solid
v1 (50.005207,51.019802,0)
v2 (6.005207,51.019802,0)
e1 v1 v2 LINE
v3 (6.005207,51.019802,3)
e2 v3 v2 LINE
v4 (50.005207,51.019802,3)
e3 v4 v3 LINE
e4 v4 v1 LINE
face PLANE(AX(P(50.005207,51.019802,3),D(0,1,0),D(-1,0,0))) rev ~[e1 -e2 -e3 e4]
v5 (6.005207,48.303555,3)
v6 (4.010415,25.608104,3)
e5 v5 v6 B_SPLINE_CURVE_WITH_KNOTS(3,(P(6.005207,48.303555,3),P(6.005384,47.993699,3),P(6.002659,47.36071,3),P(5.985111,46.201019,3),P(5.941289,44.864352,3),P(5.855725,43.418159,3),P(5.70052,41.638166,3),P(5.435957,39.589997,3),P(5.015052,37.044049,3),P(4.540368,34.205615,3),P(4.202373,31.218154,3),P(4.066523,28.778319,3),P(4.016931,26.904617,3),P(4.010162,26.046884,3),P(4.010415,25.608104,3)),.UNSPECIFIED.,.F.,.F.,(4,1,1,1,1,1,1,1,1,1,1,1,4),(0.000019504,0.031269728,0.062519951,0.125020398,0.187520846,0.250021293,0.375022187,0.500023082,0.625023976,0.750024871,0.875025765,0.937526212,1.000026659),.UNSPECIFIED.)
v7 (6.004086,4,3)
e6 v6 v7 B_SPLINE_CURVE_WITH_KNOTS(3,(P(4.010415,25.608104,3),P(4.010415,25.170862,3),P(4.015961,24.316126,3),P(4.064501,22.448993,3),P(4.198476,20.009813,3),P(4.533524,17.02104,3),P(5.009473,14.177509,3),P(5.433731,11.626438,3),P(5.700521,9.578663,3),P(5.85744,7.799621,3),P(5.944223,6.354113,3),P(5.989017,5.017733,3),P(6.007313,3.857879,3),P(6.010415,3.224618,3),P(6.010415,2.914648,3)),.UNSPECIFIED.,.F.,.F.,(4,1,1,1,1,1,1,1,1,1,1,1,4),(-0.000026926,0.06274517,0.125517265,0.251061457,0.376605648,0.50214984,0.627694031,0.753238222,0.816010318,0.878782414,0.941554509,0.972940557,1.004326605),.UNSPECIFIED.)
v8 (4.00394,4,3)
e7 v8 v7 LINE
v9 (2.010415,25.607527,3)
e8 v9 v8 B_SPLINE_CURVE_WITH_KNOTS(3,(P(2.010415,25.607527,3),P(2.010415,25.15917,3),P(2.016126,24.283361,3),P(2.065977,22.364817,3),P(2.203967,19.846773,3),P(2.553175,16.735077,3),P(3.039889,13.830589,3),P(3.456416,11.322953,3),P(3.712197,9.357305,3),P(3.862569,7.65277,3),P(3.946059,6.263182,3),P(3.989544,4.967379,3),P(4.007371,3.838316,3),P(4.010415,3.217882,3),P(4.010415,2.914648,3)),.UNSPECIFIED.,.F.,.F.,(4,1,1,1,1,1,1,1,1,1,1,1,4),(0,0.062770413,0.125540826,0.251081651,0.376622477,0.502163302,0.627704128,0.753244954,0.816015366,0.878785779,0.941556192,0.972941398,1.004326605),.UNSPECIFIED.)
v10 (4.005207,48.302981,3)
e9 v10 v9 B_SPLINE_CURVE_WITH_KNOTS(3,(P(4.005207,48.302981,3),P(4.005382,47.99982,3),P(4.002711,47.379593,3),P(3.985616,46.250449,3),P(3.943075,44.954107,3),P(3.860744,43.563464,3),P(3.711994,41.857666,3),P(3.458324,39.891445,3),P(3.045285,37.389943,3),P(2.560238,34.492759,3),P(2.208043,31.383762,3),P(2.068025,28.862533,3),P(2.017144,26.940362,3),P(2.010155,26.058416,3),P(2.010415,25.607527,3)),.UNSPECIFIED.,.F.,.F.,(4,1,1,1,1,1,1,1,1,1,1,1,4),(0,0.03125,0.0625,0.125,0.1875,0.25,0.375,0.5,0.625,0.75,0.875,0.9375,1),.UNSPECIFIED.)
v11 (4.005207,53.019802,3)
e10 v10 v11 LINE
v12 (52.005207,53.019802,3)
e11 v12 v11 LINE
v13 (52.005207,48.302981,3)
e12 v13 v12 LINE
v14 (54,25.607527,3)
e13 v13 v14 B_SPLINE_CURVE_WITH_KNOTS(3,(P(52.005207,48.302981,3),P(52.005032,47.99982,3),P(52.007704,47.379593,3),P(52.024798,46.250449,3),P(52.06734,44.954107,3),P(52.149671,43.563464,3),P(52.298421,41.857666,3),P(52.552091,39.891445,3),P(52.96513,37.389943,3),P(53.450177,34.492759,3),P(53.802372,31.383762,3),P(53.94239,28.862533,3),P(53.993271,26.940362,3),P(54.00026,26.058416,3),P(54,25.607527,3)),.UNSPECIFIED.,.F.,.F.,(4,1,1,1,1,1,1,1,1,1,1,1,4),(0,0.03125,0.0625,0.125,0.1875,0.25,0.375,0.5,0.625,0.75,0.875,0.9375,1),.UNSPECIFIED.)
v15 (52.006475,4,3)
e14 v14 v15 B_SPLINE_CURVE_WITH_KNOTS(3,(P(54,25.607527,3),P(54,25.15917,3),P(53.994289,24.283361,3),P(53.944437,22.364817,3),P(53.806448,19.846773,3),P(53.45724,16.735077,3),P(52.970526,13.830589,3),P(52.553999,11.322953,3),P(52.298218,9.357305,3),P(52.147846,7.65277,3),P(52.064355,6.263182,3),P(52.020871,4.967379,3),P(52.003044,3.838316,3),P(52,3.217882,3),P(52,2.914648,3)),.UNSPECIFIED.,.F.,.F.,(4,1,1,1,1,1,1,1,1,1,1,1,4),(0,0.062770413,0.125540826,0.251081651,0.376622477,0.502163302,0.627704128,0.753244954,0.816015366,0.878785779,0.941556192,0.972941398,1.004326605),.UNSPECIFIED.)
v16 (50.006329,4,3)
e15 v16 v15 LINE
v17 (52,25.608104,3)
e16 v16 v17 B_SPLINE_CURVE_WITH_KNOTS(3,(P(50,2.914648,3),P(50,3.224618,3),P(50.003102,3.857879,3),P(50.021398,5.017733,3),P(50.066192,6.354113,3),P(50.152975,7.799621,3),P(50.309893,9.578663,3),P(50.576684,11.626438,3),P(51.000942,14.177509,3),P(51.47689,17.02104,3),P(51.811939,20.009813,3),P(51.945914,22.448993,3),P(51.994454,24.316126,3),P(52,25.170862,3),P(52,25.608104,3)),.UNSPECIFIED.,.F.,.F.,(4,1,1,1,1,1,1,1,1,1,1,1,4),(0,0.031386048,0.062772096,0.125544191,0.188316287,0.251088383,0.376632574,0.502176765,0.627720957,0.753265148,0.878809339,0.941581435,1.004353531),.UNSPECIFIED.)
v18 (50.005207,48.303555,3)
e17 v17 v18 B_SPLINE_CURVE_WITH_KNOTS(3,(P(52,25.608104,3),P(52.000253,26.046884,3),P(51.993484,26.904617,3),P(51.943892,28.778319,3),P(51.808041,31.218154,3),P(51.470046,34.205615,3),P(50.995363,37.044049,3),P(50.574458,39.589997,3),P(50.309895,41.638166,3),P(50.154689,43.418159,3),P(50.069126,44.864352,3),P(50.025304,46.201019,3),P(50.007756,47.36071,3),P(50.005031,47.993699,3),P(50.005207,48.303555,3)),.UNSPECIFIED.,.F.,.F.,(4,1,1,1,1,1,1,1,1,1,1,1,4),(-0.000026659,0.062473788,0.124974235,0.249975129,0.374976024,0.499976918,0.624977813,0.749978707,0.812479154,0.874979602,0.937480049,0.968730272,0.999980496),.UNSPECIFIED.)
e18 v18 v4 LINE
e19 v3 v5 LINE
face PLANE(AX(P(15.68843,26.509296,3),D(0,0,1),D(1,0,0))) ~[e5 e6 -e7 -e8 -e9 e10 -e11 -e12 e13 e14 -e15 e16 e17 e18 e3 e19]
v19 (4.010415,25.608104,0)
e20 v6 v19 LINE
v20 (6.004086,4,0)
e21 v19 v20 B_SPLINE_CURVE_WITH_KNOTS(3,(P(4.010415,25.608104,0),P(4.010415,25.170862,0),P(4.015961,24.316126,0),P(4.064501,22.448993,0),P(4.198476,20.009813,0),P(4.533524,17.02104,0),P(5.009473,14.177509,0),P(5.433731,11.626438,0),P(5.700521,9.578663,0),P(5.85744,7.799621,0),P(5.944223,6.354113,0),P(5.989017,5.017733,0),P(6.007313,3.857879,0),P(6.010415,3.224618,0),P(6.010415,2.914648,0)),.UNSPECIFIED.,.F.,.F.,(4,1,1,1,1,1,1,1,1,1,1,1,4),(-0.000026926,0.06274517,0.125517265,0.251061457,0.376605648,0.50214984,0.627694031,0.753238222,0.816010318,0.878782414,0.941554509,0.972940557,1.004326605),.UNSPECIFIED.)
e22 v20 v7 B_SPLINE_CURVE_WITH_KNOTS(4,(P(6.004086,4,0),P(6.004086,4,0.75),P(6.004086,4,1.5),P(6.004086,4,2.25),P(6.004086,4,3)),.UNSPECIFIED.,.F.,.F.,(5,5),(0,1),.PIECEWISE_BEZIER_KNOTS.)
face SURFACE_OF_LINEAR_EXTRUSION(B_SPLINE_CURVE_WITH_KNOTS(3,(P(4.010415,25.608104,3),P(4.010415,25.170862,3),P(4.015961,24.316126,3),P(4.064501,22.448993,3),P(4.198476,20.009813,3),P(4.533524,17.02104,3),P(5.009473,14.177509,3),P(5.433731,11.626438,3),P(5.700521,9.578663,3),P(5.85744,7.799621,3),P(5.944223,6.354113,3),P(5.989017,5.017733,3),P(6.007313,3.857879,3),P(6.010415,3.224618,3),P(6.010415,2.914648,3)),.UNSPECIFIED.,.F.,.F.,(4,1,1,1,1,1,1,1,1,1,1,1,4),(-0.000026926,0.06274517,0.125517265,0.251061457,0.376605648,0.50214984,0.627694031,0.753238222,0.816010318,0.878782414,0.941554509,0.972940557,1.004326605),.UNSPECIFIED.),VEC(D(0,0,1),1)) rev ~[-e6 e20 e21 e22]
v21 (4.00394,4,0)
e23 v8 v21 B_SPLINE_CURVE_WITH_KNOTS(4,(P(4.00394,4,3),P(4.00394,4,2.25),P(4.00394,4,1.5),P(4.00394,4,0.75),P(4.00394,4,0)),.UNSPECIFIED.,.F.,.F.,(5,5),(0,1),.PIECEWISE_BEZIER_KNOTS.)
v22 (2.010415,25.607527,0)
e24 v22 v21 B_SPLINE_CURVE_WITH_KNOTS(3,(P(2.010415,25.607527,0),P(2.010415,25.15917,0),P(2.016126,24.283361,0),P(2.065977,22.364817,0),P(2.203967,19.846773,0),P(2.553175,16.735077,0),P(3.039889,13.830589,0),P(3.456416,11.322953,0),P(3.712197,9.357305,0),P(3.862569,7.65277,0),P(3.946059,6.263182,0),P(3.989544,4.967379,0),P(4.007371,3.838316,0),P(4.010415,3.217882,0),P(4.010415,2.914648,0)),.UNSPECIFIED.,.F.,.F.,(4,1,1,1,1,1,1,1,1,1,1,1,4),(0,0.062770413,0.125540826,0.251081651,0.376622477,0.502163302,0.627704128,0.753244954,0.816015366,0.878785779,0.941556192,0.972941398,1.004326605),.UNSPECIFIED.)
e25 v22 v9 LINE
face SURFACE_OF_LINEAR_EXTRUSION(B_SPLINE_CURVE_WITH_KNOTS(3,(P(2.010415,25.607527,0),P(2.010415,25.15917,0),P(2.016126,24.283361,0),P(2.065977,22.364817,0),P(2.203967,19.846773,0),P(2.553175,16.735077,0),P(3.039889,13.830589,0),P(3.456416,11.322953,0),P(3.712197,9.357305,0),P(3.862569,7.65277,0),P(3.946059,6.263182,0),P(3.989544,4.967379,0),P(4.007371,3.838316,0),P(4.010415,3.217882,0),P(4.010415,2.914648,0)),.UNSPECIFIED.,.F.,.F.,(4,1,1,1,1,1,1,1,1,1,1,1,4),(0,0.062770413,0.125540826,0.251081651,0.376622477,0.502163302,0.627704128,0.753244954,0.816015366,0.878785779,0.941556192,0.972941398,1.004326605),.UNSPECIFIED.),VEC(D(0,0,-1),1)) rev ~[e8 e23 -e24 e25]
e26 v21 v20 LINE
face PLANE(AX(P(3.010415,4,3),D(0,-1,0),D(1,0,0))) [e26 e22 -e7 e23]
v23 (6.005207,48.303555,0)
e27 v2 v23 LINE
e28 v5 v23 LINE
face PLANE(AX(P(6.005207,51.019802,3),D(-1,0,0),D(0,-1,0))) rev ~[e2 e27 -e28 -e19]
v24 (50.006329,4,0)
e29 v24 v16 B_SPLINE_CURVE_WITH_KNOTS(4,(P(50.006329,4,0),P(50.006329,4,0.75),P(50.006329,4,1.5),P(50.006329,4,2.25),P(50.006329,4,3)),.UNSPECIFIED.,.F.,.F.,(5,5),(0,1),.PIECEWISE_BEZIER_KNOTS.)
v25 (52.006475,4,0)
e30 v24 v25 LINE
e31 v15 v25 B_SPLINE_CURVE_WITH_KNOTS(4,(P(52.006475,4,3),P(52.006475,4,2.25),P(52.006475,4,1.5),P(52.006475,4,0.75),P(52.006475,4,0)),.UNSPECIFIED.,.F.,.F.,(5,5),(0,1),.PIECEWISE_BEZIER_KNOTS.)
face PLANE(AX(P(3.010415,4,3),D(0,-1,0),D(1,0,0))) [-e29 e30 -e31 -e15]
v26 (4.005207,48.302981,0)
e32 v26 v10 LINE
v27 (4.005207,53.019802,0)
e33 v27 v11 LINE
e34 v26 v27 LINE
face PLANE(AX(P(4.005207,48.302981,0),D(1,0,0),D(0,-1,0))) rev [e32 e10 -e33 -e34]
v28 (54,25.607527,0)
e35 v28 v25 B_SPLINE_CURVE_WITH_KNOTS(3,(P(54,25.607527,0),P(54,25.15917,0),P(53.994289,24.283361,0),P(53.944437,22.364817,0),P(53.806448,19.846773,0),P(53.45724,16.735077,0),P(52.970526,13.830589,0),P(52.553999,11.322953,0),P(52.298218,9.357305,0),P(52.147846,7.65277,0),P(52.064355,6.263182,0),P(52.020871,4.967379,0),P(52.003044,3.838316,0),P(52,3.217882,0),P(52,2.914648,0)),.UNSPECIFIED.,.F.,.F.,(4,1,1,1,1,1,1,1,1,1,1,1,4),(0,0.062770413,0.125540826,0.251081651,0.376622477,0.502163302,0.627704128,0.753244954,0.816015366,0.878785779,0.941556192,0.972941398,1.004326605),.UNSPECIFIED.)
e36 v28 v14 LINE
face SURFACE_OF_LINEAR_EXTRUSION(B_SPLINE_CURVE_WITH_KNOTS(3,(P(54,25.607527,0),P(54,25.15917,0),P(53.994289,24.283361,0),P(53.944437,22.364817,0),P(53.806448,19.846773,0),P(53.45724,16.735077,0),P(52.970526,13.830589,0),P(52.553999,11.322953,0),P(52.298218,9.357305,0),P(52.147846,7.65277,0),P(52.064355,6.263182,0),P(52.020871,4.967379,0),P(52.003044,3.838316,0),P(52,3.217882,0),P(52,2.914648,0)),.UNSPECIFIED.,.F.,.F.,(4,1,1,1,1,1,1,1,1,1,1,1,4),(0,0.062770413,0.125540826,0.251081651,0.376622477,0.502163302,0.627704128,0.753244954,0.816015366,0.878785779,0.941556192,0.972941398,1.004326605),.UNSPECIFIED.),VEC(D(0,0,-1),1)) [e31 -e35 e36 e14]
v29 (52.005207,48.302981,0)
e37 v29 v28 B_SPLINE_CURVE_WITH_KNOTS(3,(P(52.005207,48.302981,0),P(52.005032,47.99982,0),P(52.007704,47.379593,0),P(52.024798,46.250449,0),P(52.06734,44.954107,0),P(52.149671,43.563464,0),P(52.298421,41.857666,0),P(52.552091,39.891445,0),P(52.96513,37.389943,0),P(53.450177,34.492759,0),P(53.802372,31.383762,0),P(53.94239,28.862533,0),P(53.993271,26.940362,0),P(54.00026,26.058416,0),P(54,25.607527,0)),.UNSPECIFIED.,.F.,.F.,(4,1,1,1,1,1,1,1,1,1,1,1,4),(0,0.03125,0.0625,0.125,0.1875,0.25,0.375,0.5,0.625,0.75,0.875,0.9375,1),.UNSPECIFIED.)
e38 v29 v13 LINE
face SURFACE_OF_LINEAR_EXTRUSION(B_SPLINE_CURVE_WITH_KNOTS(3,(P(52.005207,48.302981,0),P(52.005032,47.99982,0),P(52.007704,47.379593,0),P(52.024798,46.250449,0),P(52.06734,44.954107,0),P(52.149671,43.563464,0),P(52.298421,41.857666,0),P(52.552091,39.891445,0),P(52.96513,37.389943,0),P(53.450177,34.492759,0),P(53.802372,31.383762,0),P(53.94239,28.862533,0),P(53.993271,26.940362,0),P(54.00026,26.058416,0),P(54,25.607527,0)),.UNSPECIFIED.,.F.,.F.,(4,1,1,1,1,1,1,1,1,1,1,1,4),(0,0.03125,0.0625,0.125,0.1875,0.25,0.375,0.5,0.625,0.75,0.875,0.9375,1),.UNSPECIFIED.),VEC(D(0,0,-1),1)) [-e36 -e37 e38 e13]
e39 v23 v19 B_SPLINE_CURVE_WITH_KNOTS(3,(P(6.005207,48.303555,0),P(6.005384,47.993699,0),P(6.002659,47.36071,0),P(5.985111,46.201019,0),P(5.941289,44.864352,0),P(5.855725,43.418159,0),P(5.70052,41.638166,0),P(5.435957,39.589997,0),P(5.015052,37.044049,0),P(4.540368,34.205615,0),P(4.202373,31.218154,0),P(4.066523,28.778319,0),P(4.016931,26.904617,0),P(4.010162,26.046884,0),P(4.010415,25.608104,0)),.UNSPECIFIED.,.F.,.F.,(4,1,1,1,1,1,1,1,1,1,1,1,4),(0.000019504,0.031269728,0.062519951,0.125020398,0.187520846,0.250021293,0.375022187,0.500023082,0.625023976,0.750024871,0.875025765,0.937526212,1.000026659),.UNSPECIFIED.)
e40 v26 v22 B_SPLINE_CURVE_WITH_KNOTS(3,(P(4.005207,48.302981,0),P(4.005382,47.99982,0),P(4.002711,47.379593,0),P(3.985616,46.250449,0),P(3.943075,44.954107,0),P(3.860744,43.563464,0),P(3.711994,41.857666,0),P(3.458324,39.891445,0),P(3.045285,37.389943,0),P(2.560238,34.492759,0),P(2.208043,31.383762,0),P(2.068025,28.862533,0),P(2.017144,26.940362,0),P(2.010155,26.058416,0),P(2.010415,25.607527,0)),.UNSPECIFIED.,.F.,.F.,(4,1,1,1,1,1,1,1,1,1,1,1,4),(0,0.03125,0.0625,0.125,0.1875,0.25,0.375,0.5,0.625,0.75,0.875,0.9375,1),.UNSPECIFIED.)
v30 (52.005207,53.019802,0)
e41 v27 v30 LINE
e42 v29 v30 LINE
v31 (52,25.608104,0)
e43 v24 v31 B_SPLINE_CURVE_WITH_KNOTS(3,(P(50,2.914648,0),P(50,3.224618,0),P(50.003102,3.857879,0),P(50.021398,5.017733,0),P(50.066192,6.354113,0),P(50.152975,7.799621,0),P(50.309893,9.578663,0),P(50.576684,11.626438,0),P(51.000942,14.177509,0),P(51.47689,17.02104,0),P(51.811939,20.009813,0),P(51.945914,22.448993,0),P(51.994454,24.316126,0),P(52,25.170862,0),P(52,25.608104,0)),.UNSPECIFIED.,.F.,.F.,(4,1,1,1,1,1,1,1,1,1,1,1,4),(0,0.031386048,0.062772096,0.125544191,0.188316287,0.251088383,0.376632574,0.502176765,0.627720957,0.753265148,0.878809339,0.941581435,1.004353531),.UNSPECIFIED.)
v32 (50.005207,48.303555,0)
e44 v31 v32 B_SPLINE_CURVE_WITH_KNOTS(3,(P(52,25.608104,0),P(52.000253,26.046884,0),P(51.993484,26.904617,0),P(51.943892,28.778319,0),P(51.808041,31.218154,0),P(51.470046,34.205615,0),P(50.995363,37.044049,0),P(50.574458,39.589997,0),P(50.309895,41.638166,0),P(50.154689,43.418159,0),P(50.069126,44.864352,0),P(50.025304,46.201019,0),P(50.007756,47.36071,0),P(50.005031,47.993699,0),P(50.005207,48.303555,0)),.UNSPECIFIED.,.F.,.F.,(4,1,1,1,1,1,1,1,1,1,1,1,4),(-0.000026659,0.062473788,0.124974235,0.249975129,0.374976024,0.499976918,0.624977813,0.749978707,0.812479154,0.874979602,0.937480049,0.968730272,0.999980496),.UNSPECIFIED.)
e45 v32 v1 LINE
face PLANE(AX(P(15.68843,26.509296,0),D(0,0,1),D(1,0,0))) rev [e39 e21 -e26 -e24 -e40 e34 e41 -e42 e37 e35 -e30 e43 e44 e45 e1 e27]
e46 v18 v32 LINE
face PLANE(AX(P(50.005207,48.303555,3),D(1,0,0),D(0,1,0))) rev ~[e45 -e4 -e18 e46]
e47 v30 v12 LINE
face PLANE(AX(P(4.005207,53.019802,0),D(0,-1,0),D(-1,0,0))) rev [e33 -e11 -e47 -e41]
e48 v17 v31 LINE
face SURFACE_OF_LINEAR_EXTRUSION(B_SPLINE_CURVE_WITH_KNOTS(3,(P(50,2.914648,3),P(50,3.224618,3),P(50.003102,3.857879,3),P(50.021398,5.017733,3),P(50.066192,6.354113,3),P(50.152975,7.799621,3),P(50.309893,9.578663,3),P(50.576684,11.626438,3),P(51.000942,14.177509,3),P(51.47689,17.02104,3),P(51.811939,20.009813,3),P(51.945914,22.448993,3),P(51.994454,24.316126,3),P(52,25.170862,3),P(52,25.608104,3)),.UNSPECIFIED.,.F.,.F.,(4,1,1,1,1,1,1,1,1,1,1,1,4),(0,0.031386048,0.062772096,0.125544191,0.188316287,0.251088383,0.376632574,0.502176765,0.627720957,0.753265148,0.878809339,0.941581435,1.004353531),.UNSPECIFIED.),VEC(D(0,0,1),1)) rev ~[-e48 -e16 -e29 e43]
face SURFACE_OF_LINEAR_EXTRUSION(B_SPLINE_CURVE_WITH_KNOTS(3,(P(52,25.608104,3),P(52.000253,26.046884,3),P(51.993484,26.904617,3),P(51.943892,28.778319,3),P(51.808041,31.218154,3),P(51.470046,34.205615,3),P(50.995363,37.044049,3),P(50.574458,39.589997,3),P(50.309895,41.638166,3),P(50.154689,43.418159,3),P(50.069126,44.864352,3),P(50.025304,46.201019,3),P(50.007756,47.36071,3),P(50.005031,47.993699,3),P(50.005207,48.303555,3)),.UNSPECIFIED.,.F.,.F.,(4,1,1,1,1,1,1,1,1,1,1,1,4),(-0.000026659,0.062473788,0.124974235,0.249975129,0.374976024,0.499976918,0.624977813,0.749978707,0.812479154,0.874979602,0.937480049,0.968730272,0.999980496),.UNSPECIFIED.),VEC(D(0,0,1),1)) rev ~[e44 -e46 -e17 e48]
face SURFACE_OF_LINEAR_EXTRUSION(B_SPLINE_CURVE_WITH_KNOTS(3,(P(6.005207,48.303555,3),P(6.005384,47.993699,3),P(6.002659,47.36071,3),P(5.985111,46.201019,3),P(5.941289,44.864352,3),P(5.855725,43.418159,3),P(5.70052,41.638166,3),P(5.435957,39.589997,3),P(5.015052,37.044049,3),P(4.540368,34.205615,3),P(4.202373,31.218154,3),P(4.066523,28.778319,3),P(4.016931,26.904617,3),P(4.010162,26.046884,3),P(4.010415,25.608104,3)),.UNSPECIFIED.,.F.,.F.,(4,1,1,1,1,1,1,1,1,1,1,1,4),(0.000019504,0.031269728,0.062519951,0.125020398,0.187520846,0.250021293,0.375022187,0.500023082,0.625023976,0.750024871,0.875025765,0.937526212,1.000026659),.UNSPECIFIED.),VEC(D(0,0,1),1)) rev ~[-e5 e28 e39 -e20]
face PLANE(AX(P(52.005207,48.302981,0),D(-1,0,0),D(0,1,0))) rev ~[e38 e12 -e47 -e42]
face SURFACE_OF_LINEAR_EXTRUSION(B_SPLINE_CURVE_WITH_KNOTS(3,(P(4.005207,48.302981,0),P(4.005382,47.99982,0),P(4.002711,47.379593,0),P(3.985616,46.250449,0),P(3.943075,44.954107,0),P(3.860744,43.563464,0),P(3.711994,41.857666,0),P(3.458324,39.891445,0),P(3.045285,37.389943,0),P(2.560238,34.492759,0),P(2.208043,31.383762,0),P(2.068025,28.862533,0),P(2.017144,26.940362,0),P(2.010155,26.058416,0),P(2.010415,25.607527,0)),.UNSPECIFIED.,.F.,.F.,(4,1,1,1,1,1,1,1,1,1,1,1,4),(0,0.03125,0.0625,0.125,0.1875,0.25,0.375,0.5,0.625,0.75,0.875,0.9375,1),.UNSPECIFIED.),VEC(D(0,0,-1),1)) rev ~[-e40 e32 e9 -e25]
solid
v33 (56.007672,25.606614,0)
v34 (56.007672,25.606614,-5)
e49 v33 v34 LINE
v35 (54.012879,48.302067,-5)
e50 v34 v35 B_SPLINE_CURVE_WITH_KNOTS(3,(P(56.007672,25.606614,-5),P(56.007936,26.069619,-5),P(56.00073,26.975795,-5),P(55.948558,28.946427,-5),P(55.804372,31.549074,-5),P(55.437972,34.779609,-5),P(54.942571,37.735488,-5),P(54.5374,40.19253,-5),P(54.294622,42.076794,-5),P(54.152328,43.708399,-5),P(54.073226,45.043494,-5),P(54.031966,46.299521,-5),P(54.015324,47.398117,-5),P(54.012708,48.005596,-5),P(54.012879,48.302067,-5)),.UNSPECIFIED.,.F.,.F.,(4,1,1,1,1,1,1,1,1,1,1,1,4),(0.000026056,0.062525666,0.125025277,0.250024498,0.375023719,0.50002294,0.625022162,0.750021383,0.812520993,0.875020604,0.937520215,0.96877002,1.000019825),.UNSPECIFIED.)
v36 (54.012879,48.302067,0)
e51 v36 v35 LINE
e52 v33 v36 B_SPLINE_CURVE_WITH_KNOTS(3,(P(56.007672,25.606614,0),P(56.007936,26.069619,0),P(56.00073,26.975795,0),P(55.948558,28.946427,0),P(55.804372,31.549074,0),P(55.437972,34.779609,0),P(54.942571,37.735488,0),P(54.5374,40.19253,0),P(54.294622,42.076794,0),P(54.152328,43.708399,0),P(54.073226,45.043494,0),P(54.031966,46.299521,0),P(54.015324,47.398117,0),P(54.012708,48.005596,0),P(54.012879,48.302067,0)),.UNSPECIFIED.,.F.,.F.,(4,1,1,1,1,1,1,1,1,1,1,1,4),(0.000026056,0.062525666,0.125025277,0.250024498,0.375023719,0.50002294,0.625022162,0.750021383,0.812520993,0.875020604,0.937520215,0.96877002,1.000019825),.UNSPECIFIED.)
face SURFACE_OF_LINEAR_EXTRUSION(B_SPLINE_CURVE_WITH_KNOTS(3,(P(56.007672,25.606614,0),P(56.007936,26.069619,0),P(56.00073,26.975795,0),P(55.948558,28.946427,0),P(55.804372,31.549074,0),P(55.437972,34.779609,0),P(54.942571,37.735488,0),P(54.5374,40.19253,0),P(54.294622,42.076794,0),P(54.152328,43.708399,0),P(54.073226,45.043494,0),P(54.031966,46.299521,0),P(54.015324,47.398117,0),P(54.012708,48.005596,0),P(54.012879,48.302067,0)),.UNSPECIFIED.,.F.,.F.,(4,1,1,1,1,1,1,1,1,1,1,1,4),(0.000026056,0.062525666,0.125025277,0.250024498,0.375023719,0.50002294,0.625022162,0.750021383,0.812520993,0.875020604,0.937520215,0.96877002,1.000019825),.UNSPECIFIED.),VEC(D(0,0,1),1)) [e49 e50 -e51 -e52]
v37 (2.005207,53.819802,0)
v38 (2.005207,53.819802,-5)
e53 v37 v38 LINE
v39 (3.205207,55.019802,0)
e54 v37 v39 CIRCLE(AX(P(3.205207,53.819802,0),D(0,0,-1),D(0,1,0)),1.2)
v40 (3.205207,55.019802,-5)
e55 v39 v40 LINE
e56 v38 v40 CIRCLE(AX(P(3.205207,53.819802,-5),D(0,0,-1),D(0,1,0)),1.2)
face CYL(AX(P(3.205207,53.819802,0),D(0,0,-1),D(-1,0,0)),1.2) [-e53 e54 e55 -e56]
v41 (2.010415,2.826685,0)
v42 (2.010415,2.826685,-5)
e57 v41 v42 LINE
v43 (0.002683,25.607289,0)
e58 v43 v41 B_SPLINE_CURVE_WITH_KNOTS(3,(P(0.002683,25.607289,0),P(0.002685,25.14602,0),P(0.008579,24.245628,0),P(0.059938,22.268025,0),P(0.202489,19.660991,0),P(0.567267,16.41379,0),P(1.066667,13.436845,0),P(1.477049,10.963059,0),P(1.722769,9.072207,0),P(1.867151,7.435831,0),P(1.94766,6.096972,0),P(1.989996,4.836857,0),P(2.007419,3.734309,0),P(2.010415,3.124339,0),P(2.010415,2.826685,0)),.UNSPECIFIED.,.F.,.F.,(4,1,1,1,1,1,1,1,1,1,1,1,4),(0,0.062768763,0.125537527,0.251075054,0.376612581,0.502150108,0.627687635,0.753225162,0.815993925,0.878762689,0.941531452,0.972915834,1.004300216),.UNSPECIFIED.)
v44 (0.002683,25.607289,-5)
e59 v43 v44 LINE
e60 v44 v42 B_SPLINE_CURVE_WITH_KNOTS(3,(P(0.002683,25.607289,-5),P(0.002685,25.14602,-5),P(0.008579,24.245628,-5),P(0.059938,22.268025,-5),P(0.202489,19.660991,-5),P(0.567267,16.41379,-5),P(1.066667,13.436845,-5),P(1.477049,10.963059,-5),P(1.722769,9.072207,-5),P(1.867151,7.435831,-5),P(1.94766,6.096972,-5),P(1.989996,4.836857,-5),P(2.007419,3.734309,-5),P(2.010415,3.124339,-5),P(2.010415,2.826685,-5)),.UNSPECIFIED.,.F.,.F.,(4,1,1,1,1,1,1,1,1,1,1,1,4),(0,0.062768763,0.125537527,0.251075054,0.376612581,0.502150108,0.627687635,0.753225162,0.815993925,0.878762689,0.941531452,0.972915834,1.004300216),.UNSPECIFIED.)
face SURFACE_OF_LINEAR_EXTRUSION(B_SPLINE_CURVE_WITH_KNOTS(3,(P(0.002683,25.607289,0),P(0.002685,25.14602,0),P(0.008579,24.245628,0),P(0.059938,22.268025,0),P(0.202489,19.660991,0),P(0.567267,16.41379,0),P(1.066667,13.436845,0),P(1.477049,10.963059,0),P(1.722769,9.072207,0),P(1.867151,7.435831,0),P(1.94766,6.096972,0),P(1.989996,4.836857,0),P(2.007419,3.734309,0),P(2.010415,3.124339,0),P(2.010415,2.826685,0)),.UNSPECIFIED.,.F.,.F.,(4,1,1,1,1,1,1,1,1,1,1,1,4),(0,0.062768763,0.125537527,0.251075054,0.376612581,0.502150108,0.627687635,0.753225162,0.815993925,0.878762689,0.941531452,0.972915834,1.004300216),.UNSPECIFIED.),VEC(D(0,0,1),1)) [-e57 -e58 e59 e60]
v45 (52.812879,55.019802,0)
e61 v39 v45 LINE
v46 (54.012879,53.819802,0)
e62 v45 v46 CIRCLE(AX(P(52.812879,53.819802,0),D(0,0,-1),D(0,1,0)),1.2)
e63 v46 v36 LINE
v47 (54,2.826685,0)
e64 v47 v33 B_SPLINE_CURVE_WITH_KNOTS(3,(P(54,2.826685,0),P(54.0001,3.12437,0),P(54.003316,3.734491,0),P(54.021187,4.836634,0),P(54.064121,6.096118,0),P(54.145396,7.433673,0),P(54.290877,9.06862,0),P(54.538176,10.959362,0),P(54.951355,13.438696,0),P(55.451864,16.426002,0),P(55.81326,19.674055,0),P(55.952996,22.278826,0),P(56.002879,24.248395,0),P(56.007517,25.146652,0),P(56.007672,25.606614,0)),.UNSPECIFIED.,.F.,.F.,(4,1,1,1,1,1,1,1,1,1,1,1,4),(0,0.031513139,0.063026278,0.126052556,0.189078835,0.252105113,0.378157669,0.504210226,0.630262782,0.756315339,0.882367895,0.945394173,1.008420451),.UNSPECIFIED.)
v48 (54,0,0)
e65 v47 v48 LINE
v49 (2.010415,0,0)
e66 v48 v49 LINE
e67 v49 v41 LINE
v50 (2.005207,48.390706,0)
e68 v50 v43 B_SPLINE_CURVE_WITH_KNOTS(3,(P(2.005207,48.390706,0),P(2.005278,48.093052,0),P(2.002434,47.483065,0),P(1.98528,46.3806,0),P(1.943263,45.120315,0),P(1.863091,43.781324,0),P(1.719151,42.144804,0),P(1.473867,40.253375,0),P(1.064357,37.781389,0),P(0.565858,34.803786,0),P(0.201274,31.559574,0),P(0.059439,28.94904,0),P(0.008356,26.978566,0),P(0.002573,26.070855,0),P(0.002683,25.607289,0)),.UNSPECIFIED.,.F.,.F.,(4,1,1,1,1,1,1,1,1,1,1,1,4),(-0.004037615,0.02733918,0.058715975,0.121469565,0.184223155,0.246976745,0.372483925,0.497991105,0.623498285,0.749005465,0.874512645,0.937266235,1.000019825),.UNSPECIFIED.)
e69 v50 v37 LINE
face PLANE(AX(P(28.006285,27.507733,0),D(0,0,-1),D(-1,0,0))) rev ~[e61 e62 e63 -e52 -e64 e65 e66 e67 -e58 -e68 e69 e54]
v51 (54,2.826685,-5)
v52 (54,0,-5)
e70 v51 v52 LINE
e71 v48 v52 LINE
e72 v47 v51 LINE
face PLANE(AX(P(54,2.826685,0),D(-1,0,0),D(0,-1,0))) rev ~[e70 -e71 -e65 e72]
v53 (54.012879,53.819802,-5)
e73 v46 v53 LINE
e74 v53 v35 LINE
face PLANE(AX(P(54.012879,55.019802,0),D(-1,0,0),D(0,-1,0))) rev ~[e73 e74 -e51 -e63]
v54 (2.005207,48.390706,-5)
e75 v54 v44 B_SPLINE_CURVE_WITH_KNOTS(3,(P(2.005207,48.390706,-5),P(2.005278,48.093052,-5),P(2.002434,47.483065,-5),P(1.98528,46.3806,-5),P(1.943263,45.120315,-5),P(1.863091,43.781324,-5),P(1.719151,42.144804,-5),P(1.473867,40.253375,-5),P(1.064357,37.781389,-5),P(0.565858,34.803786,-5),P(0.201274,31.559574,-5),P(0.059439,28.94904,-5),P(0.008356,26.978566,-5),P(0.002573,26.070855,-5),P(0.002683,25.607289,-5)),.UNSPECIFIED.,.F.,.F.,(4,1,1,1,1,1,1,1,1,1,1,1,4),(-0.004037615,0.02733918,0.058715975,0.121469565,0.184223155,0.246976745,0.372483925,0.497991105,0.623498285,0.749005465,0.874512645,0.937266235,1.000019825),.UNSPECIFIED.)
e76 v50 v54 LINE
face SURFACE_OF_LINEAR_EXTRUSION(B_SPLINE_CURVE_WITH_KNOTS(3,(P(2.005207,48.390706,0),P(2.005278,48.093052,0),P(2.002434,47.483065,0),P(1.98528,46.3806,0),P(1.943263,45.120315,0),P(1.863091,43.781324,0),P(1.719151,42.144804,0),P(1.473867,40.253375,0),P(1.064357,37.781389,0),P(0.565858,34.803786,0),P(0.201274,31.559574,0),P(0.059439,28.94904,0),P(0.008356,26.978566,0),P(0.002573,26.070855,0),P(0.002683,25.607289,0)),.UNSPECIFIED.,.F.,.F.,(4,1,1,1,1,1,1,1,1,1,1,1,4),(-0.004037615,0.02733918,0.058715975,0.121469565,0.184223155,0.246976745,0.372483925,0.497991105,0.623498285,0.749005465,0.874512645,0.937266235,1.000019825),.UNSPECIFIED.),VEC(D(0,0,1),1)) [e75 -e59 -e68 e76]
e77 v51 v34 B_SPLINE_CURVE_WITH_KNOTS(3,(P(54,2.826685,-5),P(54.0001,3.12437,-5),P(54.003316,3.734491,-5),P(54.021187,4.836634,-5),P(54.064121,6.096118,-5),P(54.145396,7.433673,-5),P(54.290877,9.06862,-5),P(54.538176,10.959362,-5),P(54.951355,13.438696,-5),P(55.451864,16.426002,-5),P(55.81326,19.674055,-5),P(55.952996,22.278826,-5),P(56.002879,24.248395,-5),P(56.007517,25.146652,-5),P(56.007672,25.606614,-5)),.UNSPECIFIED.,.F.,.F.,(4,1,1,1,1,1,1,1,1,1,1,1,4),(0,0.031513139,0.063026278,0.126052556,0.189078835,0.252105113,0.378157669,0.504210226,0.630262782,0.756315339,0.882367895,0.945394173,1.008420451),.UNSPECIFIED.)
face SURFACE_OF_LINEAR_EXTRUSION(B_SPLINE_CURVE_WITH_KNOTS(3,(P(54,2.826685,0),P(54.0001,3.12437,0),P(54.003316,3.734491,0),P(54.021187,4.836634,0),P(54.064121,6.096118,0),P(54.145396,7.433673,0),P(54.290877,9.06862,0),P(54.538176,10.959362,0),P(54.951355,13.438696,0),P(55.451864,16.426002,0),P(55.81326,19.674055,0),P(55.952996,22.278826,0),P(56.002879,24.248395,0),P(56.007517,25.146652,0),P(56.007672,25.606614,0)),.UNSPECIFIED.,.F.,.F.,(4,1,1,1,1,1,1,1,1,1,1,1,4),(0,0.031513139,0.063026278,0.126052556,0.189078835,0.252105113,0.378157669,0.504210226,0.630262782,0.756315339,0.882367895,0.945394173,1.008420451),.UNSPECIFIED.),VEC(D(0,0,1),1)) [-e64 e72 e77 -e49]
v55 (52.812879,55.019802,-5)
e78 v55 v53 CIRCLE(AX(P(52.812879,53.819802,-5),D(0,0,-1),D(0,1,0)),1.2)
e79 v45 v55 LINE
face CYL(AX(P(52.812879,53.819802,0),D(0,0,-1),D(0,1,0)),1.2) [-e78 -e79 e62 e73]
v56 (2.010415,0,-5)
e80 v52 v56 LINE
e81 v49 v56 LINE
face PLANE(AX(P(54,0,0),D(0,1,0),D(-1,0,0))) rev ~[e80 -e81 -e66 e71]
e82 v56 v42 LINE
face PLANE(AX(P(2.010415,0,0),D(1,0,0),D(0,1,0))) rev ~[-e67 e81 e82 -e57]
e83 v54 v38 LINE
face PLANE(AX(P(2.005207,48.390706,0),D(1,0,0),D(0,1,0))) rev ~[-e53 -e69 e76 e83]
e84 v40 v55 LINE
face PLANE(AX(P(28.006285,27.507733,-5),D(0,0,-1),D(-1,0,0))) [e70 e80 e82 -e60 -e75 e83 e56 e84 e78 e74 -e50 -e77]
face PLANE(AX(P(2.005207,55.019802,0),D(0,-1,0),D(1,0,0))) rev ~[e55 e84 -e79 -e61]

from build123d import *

# Parameters (mm, degrees)
BOSS_EXTRUDE1_DEPTH = 3
BOSS_EXTRUDE2_DEPTH = 5
FILLET7_R           = 1.2
CUT_EXTRUDE1_DEPTH  = 3
SKETCH9_W           = 49.989585209
SKETCH9_H           = 4
CUT_EXTRUDE2_DEPTH  = 3


with BuildPart() as part:
    # Sketch1 → Boss-Extrude1 (new body)
    with BuildSketch(Plane.XY):
        with BuildLine():
            Line((28.005207395, 53.01980246), (28.005207395, 0))
            Line((28.005207395, 0), (52, 0))
            Line((52, 0), (52, 2.9146477))
            add(Edge.make_bspline(
                [(54, 25.607527289), (54, 25.159169522), (53.994288647, 24.283360938), (53.944437462, 22.364816973), (53.80644817, 19.846772797), (53.457239701, 16.735076854), (52.97052622, 13.830588939), (52.553998709, 11.322953348), (52.298218213, 9.357304832), (52.147846123, 7.65276951), (52.064355406, 6.263182374), (52.020871116, 4.967378593), (52.003043675, 3.838316022), (52, 3.217882336), (52, 2.9146477)],
                knots=[0, 0, 0, 0, 0.062770413, 0.125540826, 0.251081651, 0.376622477, 0.502163302, 0.627704128, 0.753244954, 0.816015366, 0.878785779, 0.941556192, 0.972941398, 1.004326605, 1.004326605, 1.004326605, 1.004326605], degree=3))
            add(Edge.make_bspline(
                [(52.005207395, 48.302981133), (52.005032478, 47.999820298), (52.007704017, 47.379593464), (52.024798321, 46.250449069), (52.067339722, 44.954106741), (52.149671224, 43.56346429), (52.298420576, 41.857666135), (52.552090867, 39.891444934), (52.96513006, 37.389942775), (53.450176666, 34.49275873), (53.802371878, 31.383762001), (53.942389857, 28.862532812), (53.993270646, 26.94036246), (54.000260154, 26.05841638), (54, 25.607527289)],
                knots=[0, 0, 0, 0, 0.03125, 0.0625, 0.125, 0.1875, 0.25, 0.375, 0.5, 0.625, 0.75, 0.875, 0.9375, 1, 1, 1, 1], degree=3))
            Line((52.005207395, 48.302981133), (52.005207395, 53.01980246))
            Line((52.005207395, 53.01980246), (28.005207395, 53.01980246))
        make_face()
    boss_extrude1 = extrude(amount=BOSS_EXTRUDE1_DEPTH)

    # Mirror3: Boss-Extrude1 across plane
    add(boss_extrude1.mirror(Plane(origin=(28.005207395, 53.01980246, 3), x_dir=(0, 0, 1), z_dir=(1, 0, 0))))

    # Sketch8 → Cut-Extrude1 (cut)
    with BuildSketch(Plane.XY.offset(3)):
        with BuildLine():
            add(Edge.make_bspline(
                [(50, 2.9146477), (50, 3.224617501), (50.00310159, 3.857879479), (50.021398068, 5.017732873), (50.066192084, 6.354112543), (50.152974511, 7.799621089), (50.309893415, 9.578663007), (50.576683671, 11.626438016), (51.000941524, 14.177508821), (51.476890427, 17.021040342), (51.811938615, 20.009813081), (51.945914224, 22.44899251), (51.99445353, 24.316126277), (52, 25.170862419), (52, 25.608104268)],
                knots=[0, 0, 0, 0, 0.031386048, 0.062772096, 0.125544191, 0.188316287, 0.251088383, 0.376632574, 0.502176765, 0.627720957, 0.753265148, 0.878809339, 0.941581435, 1.004353531, 1.004353531, 1.004353531, 1.004353531], degree=3))
            add(Edge.make_bspline(
                [(52, 25.608104268), (52.000253167, 26.046883682), (51.993484197, 26.90461728), (51.943891847, 28.778318851), (51.808041336, 31.218153583), (51.470046418, 34.205615138), (50.995363085, 37.044048854), (50.574458042, 39.589997462), (50.309894836, 41.638165834), (50.154689303, 43.418158771), (50.069126253, 44.864352209), (50.025303755, 46.201018799), (50.007755855, 47.360709732), (50.005030547, 47.993698971), (50.005207395, 48.303554977)],
                knots=[-2.6659e-05, -2.6659e-05, -2.6659e-05, -2.6659e-05, 0.062473788, 0.124974235, 0.249975129, 0.374976024, 0.499976918, 0.624977813, 0.749978707, 0.812479154, 0.874979602, 0.937480049, 0.968730272, 0.999980496, 0.999980496, 0.999980496, 0.999980496], degree=3))
            Line((50.005207395, 48.303554977), (50.005207395, 51.01980246))
            Line((50.005207395, 51.01980246), (6.005207395, 51.01980246))
            Line((6.005207395, 51.01980246), (6.005207395, 48.303554977))
            add(Edge.make_bspline(
                [(6.005207395, 48.303554977), (6.005384244, 47.993698971), (6.002658935, 47.360709732), (5.985111036, 46.201018799), (5.941288538, 44.864352209), (5.855725488, 43.418158771), (5.700519955, 41.638165834), (5.435956749, 39.589997462), (5.015051706, 37.044048854), (4.540368373, 34.205615138), (4.202373454, 31.218153583), (4.066522943, 28.778318851), (4.016930594, 26.90461728), (4.010161624, 26.046883682), (4.010414791, 25.608104268)],
                knots=[1.9504e-05, 1.9504e-05, 1.9504e-05, 1.9504e-05, 0.031269728, 0.062519951, 0.125020398, 0.187520846, 0.250021293, 0.375022187, 0.500023082, 0.625023976, 0.750024871, 0.875025765, 0.937526212, 1.000026659, 1.000026659, 1.000026659, 1.000026659], degree=3))
            add(Edge.make_bspline(
                [(4.010414791, 25.608104268), (4.010414791, 25.170862419), (4.01596126, 24.316126277), (4.064500566, 22.44899251), (4.198476176, 20.009813081), (4.533524364, 17.021040342), (5.009473266, 14.177508821), (5.433731119, 11.626438016), (5.700521375, 9.578663007), (5.85744028, 7.799621089), (5.944222707, 6.354112543), (5.989016723, 5.017732873), (6.007313201, 3.857879479), (6.010414791, 3.224617501), (6.010414791, 2.9146477)],
                knots=[-2.6926e-05, -2.6926e-05, -2.6926e-05, -2.6926e-05, 0.06274517, 0.125517265, 0.251061457, 0.376605648, 0.50214984, 0.627694031, 0.753238222, 0.816010318, 0.878782414, 0.941554509, 0.972940557, 1.004326605, 1.004326605, 1.004326605, 1.004326605], degree=3))
            Line((6.010414791, 2.9146477), (6.010414791, 2))
            Line((6.010414791, 2), (50, 2))
            Line((50, 2), (50, 2.9146477))
        make_face()
    extrude(amount=-CUT_EXTRUDE1_DEPTH, mode=Mode.SUBTRACT)

    # Sketch9 → Cut-Extrude2 (cut)
    with BuildSketch(Plane.XY.offset(3)):
        with Locations((28.005207396, 2)):
            Rectangle(SKETCH9_W, SKETCH9_H)
    extrude(amount=-CUT_EXTRUDE2_DEPTH, mode=Mode.SUBTRACT)


with BuildPart() as body_2:
    # Sketch7 → Boss-Extrude2 (new body)
    with BuildSketch(Plane(origin=(0, 0, 0), x_dir=(-1, 0, 0), z_dir=(0, 0, -1))):
        with BuildLine():
            Line((-54, 0), (-2.010414791, 0))
            Line((-2.010414791, 0), (-2.010414791, 2.826684811))
            add(Edge.make_bspline(
                [(-0.002683346, 25.607288768), (-0.002684793, 25.146020337), (-0.008578722, 24.24562844), (-0.059938428, 22.268024705), (-0.202488874, 19.660991127), (-0.567266614, 16.413790423), (-1.066667382, 13.436844707), (-1.477049301, 10.963058588), (-1.722769034, 9.072207085), (-1.867151188, 7.435831234), (-1.947659771, 6.096972052), (-1.989995849, 4.836856595), (-2.007419417, 3.734309195), (-2.010415452, 3.12433851), (-2.010414791, 2.826684811)],
                knots=[0, 0, 0, 0, 0.062768763, 0.125537527, 0.251075054, 0.376612581, 0.502150108, 0.627687635, 0.753225162, 0.815993925, 0.878762689, 0.941531452, 0.972915834, 1.004300216, 1.004300216, 1.004300216, 1.004300216], degree=3))
            add(Edge.make_bspline(
                [(-2.005207395, 48.390705962), (-2.005278243, 48.093051791), (-2.002433581, 47.483064625), (-1.985280271, 46.380599958), (-1.94326327, 45.120314638), (-1.863091302, 43.781324125), (-1.719150663, 42.144803769), (-1.473867053, 40.253375363), (-1.064356832, 37.781388755), (-0.565858313, 34.803786135), (-0.201274319, 31.559573525), (-0.0594386, 28.949039647), (-0.008356002, 26.978566135), (-0.002573008, 26.070855192), (-0.002683346, 25.607288768)],
                knots=[-0.004037615, -0.004037615, -0.004037615, -0.004037615, 0.02733918, 0.058715975, 0.121469565, 0.184223155, 0.246976745, 0.372483925, 0.497991105, 0.623498285, 0.749005465, 0.874512645, 0.937266235, 1.000019825, 1.000019825, 1.000019825, 1.000019825], degree=3))
            Line((-2.005207395, 48.390705962), (-2.005207395, 55.01980246))
            Line((-2.005207395, 55.01980246), (-54.012879472, 55.01980246))
            Line((-54.012879472, 55.01980246), (-54.012879472, 48.302067423))
            add(Edge.make_bspline(
                [(-56.007672007, 25.60661437), (-56.007935943, 26.069619097), (-56.000730175, 26.975794719), (-55.948558309, 28.94642677), (-55.804371941, 31.549073699), (-55.437972012, 34.779609337), (-54.942570943, 37.735488393), (-54.537399908, 40.192530107), (-54.294622311, 42.076793881), (-54.152327736, 43.708398737), (-54.073226386, 45.043493604), (-54.031965992, 46.299521463), (-54.01532357, 47.39811745), (-54.012708414, 48.005596422), (-54.012879472, 48.302067423)],
                knots=[2.6056e-05, 2.6056e-05, 2.6056e-05, 2.6056e-05, 0.062525666, 0.125025277, 0.250024498, 0.375023719, 0.50002294, 0.625022162, 0.750021383, 0.812520993, 0.875020604, 0.937520215, 0.96877002, 1.000019825, 1.000019825, 1.000019825, 1.000019825], degree=3))
            add(Edge.make_bspline(
                [(-54, 2.826684811), (-54.000100255, 3.124370242), (-54.003315975, 3.734490867), (-54.021186519, 4.836633544), (-54.064120608, 6.096118397), (-54.145395663, 7.433673192), (-54.290876521, 9.068619606), (-54.53817552, 10.959362089), (-54.951355009, 13.438696093), (-55.451864372, 16.426002046), (-55.813260339, 19.674055379), (-55.952995542, 22.278826171), (-56.002879294, 24.248395477), (-56.0075171, 25.146652354), (-56.007672007, 25.60661437)],
                knots=[0, 0, 0, 0, 0.031513139, 0.063026278, 0.126052556, 0.189078835, 0.252105113, 0.378157669, 0.504210226, 0.630262782, 0.756315339, 0.882367895, 0.945394173, 1.008420451, 1.008420451, 1.008420451, 1.008420451], degree=3))
            Line((-54, 2.826684811), (-54, 0))
        make_face()
    extrude(amount=BOSS_EXTRUDE2_DEPTH)

    # Fillet7
    fillet7_edges = [body_2.edges().sort_by_distance(p)[0] for p in [
        (54.012879472, 55.01980246, -2.5),
        (2.005207395, 55.01980246, -2.5),
    ]]
    fillet(fillet7_edges, radius=FILLET7_R)


solid = Compound([part.part, body_2.part])
